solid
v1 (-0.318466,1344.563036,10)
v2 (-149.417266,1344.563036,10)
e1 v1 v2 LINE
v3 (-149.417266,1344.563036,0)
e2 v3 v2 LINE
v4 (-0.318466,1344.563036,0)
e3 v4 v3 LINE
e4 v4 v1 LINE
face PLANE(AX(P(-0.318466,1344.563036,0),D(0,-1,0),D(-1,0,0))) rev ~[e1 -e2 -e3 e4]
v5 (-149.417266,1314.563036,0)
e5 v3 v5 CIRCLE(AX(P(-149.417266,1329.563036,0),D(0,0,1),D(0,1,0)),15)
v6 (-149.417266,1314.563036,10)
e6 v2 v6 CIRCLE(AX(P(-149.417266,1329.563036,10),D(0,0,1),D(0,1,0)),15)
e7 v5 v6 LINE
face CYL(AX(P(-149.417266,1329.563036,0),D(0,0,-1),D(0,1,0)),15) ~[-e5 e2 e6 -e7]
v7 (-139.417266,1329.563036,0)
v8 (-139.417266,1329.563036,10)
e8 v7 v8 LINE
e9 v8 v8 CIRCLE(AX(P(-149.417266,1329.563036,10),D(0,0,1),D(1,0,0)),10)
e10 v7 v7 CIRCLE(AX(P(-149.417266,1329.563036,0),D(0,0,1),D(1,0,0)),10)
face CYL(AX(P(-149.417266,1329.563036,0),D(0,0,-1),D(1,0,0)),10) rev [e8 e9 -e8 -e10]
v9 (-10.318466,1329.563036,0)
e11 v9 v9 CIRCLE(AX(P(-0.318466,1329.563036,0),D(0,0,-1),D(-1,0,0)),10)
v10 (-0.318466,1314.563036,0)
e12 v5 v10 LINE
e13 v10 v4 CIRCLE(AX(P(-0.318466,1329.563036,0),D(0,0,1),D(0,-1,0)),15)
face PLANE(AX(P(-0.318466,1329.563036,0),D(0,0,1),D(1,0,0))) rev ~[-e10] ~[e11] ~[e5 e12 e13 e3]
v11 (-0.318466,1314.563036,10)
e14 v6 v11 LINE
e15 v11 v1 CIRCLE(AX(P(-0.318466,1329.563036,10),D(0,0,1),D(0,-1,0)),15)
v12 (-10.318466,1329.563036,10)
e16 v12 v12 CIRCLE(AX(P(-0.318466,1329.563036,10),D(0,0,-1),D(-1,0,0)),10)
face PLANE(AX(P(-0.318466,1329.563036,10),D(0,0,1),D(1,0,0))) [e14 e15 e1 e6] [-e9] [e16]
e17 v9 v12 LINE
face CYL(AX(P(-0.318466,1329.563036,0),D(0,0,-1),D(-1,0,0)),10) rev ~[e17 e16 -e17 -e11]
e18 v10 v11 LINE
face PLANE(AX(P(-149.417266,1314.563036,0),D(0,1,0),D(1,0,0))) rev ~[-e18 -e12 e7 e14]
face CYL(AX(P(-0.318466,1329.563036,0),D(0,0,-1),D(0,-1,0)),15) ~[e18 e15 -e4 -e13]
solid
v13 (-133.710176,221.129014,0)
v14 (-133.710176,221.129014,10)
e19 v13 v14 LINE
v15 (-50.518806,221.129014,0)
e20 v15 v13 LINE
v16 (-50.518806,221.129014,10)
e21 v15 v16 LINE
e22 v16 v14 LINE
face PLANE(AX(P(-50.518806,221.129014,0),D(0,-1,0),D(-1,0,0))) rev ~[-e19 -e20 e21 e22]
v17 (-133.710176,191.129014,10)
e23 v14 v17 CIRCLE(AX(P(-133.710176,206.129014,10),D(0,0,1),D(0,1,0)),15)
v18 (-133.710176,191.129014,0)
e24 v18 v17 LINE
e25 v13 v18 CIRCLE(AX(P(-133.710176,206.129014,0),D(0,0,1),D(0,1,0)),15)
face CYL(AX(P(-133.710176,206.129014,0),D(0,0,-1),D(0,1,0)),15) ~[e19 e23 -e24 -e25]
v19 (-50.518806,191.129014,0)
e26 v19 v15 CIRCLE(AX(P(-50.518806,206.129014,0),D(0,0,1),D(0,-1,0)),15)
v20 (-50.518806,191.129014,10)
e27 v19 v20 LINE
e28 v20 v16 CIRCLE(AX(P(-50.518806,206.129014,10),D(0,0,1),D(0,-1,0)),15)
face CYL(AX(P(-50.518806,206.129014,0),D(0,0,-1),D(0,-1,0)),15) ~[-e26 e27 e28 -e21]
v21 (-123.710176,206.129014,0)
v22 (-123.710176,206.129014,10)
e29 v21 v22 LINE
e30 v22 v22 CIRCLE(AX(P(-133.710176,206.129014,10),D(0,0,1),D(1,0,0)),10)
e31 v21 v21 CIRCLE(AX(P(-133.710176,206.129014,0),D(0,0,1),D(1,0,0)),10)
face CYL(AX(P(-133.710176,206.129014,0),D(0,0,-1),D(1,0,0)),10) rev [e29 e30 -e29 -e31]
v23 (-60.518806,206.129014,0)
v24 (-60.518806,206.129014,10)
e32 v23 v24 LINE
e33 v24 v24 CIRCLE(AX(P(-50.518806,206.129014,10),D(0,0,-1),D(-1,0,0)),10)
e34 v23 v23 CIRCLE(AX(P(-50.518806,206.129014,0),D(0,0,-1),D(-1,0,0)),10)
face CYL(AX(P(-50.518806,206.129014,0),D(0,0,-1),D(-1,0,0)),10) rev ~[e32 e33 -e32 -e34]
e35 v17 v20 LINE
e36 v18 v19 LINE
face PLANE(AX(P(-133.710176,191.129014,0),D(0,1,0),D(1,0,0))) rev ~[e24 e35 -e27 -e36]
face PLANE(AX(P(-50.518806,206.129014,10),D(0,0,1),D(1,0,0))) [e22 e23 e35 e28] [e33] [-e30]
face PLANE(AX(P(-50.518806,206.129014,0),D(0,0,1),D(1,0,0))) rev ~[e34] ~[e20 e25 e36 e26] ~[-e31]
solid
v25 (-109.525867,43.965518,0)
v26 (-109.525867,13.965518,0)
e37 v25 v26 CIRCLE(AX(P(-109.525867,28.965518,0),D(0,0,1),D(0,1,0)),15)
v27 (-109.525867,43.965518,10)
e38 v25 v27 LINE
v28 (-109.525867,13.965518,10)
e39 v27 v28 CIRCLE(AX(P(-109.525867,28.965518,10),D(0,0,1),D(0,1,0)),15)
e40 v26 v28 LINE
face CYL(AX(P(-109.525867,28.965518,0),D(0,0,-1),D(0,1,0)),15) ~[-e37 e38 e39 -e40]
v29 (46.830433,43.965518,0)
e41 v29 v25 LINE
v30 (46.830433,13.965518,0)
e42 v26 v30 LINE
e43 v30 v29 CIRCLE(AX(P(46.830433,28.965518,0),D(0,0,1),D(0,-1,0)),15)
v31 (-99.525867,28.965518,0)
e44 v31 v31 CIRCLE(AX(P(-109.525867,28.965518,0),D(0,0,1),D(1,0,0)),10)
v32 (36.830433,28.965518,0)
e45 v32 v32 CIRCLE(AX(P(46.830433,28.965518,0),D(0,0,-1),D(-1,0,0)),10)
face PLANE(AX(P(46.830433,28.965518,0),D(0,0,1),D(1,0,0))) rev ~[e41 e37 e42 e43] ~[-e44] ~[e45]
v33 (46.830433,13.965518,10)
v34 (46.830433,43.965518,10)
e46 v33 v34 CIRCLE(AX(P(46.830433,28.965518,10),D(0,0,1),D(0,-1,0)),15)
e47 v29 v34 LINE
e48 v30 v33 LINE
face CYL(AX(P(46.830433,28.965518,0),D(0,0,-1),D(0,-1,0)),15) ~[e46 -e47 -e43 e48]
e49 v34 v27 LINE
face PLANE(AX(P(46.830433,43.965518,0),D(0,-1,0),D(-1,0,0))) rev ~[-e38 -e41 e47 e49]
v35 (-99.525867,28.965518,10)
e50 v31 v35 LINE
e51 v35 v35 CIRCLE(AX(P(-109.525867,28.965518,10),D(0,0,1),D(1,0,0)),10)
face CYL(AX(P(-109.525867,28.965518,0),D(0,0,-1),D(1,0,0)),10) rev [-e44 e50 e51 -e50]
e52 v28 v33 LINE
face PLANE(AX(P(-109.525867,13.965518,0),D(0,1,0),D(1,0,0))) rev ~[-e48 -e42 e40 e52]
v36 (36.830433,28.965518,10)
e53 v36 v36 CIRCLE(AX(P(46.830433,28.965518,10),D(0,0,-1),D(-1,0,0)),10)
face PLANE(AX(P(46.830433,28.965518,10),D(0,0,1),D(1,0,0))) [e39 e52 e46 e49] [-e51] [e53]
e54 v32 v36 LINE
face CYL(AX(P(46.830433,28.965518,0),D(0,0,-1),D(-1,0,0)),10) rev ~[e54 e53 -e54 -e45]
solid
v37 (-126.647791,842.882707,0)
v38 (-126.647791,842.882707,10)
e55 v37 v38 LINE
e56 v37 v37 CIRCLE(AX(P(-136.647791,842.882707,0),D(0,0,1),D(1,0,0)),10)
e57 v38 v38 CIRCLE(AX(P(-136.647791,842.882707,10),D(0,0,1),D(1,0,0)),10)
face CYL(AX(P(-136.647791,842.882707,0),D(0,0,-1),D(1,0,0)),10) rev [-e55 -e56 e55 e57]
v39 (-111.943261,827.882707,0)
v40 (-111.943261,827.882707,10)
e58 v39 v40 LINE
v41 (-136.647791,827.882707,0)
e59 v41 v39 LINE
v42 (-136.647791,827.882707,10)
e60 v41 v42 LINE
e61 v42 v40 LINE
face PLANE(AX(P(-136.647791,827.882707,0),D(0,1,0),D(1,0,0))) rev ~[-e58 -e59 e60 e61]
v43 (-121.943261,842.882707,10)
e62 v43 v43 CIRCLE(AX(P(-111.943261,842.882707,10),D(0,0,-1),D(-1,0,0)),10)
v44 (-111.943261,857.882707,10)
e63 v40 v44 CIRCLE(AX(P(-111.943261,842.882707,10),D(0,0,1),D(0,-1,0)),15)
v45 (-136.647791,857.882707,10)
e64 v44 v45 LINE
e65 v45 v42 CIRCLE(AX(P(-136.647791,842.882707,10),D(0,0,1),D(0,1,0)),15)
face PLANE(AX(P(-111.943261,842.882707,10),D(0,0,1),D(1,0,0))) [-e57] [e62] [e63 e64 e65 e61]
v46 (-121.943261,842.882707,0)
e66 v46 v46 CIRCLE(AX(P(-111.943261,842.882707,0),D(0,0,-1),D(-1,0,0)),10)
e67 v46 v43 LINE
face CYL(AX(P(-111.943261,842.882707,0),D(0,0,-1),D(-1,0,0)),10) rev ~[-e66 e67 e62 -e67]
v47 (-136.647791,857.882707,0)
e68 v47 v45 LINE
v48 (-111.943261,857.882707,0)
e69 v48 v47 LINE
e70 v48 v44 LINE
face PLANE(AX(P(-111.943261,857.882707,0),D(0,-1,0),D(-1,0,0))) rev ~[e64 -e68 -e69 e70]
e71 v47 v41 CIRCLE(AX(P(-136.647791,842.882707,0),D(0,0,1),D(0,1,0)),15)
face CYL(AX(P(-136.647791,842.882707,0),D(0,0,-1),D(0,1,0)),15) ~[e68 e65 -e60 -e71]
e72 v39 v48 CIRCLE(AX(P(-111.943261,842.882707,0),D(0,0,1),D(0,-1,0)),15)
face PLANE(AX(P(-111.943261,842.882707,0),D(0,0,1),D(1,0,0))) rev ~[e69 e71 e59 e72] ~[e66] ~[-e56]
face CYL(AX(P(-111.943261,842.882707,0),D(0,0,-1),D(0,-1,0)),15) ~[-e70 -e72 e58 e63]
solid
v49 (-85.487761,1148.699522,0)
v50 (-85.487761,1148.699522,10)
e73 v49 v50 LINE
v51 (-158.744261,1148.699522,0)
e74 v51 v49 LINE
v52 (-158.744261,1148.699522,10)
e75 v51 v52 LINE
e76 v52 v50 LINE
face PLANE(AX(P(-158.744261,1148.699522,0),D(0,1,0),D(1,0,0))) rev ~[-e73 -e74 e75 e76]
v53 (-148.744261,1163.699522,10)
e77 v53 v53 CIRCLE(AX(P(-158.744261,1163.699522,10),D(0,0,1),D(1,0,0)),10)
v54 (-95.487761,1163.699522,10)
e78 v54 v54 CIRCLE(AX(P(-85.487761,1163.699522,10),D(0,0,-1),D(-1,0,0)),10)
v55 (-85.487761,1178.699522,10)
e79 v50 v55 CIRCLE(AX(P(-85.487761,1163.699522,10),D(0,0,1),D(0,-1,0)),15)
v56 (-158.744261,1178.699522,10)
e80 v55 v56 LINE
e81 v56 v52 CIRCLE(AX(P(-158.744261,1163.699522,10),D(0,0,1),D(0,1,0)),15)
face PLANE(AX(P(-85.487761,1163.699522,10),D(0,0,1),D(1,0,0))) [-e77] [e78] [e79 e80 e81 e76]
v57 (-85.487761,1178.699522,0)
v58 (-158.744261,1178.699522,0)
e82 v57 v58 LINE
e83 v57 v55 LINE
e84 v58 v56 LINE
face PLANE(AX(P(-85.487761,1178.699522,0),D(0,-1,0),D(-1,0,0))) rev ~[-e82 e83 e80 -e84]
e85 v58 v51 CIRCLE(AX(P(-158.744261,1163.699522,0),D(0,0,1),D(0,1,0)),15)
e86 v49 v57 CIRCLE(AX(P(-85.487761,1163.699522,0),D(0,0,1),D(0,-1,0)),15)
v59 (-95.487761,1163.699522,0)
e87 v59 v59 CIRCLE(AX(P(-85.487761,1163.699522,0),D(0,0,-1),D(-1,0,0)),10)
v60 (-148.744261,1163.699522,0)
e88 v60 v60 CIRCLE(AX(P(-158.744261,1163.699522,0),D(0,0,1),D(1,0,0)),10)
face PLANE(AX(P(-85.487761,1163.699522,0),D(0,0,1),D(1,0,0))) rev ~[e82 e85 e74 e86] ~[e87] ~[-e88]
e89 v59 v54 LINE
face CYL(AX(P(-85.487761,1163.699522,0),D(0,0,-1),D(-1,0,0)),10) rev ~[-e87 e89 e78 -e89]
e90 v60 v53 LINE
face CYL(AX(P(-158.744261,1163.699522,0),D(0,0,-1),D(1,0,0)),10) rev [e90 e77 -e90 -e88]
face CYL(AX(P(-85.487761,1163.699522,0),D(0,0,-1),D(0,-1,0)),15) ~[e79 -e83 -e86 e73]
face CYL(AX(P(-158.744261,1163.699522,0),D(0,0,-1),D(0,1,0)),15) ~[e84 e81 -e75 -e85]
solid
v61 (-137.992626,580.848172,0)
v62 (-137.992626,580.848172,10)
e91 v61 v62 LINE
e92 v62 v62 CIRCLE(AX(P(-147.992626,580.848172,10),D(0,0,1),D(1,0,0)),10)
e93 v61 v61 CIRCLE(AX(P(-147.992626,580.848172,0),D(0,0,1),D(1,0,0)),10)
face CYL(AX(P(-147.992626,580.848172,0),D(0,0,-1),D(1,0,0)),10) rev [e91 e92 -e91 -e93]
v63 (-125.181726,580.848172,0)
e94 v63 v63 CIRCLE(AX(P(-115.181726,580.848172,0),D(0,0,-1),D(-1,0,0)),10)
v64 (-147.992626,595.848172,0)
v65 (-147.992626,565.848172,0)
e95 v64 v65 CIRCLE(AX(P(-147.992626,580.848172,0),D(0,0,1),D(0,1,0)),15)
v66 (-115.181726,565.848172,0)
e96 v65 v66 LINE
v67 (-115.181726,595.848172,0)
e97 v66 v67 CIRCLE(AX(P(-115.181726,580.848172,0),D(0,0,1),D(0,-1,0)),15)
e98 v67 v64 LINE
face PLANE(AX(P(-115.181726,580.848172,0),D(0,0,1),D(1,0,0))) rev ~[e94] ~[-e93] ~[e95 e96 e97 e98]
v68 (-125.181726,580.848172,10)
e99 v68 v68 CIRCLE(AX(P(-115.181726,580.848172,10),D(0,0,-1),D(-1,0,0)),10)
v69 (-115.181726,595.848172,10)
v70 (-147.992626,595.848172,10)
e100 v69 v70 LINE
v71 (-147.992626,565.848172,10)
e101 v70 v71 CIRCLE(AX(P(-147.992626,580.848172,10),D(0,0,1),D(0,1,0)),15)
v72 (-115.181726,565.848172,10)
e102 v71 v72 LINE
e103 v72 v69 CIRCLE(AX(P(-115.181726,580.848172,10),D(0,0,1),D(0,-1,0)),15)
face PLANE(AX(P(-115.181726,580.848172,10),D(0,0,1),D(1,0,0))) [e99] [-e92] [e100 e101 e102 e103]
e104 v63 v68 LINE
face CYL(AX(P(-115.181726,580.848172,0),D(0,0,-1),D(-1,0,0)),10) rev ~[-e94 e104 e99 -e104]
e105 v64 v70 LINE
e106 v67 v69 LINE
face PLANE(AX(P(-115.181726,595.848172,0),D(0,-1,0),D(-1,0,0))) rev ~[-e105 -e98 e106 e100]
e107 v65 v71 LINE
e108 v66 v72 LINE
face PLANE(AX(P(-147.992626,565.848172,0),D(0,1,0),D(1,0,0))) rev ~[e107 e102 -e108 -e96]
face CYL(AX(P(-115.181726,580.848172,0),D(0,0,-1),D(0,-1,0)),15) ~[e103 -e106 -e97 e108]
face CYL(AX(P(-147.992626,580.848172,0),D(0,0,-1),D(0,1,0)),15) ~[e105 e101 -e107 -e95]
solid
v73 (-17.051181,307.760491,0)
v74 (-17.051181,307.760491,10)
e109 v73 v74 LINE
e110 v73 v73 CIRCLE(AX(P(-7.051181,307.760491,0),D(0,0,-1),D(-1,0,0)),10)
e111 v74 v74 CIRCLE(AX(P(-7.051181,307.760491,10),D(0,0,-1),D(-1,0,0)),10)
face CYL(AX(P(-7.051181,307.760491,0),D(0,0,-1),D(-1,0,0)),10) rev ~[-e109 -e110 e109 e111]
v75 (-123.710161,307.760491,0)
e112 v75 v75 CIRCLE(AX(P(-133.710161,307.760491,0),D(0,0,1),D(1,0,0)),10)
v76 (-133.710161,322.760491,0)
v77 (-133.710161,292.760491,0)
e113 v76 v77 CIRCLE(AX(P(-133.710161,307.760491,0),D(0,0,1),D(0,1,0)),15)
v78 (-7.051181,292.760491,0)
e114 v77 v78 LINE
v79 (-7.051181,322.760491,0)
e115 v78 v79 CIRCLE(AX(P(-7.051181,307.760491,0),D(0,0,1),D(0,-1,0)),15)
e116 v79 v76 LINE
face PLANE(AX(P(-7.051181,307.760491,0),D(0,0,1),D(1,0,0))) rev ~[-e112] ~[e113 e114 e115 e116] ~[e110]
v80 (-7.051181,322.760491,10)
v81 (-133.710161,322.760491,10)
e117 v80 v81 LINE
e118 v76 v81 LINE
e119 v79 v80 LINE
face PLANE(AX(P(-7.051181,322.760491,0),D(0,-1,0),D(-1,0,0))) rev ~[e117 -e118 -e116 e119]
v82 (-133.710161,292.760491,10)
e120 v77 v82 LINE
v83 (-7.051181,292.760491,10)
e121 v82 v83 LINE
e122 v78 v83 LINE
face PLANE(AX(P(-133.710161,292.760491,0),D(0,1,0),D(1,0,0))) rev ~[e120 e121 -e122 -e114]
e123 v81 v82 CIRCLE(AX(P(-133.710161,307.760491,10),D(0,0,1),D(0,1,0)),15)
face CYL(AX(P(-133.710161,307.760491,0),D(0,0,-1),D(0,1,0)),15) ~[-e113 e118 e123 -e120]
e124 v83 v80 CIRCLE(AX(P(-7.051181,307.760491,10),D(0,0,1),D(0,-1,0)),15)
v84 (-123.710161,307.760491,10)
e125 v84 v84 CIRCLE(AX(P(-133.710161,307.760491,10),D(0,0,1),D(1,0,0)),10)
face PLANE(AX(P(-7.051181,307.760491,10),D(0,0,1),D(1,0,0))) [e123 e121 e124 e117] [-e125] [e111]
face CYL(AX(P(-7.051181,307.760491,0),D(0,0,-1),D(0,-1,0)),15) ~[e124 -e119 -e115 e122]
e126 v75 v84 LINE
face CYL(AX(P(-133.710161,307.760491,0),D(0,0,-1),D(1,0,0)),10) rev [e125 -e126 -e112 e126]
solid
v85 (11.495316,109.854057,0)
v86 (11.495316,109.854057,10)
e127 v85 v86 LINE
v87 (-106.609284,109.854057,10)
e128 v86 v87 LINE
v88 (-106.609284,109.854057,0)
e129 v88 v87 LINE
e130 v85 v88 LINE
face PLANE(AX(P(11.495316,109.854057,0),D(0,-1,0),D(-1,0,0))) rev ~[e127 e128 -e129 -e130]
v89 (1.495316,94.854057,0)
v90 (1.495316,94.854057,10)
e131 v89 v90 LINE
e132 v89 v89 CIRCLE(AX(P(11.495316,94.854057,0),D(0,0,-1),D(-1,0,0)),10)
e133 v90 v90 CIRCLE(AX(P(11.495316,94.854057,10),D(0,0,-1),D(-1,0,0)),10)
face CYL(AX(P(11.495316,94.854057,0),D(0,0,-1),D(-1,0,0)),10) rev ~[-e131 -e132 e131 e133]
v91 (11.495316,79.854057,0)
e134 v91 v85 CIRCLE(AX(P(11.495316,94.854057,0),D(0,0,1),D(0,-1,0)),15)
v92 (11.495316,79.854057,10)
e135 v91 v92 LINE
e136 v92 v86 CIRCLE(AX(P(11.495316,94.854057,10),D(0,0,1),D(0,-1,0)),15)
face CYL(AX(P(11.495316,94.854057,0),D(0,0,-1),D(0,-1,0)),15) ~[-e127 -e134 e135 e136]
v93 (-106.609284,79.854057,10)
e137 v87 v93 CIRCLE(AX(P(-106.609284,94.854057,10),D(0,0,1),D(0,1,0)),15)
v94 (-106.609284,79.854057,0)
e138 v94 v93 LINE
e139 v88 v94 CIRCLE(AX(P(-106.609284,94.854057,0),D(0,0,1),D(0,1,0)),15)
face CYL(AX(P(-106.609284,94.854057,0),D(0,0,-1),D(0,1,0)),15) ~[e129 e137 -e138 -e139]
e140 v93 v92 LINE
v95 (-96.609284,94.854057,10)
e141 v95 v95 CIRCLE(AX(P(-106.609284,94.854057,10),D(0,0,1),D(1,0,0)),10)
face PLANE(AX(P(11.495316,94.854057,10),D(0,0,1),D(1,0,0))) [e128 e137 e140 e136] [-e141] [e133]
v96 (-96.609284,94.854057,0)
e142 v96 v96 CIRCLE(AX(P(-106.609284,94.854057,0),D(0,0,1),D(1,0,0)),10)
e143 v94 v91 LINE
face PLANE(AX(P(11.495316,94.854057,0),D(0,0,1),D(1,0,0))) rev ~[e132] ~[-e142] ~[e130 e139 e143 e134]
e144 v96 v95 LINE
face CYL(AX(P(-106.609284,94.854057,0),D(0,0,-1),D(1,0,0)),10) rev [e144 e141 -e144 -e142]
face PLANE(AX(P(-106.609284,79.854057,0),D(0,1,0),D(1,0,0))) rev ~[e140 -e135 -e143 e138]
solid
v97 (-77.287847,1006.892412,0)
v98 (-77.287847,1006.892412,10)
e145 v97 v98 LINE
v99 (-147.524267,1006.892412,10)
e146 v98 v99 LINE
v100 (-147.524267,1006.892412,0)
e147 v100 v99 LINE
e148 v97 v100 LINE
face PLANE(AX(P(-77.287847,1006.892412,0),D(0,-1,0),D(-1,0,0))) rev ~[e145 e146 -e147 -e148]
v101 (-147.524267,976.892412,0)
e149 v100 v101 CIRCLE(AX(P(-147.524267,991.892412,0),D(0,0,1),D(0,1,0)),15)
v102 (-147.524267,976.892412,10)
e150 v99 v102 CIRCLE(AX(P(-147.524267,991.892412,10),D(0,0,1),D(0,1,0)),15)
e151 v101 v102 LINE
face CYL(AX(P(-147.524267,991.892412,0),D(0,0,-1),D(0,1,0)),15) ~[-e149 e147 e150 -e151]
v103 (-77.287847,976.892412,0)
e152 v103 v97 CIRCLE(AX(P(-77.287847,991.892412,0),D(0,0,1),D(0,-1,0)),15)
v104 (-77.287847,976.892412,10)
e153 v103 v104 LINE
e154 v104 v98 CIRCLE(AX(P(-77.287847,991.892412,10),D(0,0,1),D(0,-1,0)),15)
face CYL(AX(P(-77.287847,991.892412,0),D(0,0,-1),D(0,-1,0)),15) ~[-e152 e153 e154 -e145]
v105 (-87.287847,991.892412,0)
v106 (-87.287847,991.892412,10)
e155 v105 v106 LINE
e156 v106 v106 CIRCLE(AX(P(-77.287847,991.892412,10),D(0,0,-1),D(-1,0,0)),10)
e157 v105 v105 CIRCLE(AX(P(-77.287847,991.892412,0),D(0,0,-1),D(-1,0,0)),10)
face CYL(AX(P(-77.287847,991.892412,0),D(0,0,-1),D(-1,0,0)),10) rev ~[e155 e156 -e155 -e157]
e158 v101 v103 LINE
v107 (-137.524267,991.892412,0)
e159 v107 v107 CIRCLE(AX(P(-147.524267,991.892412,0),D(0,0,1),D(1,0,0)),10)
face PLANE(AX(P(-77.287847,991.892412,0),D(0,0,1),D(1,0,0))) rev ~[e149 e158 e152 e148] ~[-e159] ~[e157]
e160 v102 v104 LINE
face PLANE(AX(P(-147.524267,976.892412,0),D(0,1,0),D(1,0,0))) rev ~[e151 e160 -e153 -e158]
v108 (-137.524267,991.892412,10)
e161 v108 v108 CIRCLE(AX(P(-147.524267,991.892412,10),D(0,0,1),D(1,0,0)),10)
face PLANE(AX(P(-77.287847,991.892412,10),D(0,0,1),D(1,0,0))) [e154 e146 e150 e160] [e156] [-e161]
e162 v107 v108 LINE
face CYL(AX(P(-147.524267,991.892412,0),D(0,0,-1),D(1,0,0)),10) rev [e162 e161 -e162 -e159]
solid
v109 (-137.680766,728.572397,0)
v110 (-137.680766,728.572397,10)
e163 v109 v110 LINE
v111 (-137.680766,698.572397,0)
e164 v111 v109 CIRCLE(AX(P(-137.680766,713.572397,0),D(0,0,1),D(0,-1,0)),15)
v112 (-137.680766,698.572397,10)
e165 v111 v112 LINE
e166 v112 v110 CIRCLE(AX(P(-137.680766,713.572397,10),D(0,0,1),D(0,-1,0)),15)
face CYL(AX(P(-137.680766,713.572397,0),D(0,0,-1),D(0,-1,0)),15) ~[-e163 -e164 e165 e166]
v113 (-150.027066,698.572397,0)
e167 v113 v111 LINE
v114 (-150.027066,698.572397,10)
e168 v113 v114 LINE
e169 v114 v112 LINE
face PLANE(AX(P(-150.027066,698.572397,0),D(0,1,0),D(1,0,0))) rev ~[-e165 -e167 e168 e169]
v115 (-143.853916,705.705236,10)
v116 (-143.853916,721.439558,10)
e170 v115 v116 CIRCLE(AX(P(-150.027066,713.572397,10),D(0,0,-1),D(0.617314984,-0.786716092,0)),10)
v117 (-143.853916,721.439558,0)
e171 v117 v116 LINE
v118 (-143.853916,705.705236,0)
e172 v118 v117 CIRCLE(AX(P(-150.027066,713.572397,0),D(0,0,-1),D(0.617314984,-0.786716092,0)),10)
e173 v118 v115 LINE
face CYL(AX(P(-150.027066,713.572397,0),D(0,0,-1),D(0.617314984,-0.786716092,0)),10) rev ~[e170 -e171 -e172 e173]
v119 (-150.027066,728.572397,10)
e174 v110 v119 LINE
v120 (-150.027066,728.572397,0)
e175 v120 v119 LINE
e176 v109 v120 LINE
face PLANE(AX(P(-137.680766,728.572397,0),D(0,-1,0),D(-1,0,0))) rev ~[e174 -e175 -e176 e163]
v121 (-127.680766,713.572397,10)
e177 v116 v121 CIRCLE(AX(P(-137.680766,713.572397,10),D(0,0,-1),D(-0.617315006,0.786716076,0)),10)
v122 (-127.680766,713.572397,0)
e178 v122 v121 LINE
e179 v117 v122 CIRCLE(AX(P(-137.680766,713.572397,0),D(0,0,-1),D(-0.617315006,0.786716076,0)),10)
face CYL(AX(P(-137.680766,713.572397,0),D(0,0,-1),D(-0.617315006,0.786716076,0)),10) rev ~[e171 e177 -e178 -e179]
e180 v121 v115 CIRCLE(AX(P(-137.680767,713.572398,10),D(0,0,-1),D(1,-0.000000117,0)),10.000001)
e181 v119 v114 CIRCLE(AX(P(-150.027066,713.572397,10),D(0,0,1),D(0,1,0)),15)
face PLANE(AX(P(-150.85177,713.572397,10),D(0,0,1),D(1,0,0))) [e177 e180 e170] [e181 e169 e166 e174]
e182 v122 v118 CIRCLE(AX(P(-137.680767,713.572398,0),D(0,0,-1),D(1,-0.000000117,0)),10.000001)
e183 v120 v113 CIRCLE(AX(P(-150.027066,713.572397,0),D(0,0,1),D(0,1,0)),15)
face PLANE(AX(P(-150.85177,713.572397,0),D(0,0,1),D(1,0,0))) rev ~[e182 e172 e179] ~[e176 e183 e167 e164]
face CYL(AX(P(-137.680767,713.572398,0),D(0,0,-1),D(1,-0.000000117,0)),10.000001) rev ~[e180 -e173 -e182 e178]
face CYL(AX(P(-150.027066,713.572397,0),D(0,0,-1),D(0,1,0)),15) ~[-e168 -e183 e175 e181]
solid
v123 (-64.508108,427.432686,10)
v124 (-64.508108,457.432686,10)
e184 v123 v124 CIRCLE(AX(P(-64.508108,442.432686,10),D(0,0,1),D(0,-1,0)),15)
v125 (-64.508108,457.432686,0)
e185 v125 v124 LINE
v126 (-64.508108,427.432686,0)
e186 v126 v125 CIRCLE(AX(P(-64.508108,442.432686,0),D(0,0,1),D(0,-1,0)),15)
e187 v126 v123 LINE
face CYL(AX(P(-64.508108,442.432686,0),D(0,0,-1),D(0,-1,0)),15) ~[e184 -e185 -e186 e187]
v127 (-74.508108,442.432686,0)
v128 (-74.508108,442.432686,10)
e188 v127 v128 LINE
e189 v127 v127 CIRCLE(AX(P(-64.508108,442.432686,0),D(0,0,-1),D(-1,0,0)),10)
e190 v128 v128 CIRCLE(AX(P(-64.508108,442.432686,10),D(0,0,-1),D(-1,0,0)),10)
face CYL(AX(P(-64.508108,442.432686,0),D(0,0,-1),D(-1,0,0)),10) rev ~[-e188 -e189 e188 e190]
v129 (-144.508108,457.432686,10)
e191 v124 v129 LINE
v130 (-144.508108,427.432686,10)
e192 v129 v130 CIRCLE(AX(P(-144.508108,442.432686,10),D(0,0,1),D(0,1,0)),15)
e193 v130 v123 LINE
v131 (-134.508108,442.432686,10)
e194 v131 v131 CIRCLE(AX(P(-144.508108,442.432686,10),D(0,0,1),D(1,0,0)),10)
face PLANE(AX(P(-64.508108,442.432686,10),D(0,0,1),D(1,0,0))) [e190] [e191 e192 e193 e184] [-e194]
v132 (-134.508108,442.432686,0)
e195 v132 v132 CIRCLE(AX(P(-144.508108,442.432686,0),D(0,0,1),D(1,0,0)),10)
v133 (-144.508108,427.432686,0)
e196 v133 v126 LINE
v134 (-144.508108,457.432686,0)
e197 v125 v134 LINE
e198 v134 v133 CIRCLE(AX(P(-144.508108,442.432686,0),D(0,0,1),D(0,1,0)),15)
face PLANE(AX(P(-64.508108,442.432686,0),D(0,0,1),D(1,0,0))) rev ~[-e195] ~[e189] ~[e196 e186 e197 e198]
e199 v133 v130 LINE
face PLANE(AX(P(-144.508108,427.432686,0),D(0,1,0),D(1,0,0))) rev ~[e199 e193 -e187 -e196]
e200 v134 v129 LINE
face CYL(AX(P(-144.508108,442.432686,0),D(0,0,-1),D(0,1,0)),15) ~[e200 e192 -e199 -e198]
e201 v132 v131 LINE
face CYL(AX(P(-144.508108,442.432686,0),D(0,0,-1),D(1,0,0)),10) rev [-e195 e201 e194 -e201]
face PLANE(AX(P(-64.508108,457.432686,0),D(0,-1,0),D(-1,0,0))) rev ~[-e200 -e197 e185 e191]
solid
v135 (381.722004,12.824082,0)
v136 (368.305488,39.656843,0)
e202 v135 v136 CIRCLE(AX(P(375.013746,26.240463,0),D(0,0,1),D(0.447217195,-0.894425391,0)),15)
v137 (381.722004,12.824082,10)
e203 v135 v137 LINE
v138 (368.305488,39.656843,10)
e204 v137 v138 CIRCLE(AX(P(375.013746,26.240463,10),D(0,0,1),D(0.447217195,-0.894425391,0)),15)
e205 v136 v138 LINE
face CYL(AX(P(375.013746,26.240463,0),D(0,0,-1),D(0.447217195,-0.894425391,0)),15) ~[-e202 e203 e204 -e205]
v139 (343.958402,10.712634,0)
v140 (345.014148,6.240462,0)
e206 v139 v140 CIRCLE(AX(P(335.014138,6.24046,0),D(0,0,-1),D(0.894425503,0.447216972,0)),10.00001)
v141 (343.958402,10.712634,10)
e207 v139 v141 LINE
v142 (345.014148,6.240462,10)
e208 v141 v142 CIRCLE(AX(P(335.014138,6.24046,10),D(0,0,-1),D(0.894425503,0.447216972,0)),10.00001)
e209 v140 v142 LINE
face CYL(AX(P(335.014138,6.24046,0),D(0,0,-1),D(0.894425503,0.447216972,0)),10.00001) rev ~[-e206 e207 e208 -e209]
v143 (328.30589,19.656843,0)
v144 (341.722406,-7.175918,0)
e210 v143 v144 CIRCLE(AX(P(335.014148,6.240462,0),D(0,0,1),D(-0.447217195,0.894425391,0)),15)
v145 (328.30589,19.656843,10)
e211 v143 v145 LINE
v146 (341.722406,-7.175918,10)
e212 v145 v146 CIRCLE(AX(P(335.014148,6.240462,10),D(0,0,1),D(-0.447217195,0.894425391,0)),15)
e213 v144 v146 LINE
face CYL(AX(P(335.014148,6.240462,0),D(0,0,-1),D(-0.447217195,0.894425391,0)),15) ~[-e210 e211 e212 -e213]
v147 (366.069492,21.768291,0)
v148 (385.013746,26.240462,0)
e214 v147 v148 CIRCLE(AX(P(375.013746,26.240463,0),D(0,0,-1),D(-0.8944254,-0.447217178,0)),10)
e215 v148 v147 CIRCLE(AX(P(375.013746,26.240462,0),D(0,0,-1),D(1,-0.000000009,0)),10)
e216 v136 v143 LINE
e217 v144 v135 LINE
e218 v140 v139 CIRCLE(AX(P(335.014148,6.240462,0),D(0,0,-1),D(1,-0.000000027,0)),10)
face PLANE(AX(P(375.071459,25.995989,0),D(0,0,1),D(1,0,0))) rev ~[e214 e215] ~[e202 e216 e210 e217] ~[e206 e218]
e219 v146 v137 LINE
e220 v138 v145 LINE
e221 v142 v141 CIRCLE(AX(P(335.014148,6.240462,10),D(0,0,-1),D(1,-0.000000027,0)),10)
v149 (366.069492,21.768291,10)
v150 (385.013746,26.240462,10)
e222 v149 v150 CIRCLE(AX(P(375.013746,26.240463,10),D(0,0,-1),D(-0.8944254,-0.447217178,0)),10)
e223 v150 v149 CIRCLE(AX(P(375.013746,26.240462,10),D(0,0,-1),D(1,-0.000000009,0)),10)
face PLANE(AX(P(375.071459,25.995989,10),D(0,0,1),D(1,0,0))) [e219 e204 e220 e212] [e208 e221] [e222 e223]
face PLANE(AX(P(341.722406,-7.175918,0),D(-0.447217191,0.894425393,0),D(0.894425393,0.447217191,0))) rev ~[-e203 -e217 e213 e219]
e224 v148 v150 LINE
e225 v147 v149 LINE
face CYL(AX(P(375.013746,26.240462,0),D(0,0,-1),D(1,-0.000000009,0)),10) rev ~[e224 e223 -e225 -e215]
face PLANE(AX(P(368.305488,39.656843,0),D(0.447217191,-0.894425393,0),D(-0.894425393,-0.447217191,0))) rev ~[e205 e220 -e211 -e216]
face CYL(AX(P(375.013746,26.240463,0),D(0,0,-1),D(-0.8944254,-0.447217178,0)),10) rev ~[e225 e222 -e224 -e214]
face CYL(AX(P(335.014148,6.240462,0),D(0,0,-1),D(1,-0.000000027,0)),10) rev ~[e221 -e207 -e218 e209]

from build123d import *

# Parameters (mm, degrees)
F0_R     = 10
F1_DEPTH = 10


with BuildPart() as f1:
    # F0 (on Top) → F1 (new body)
    with BuildSketch(Plane.XY):
        with BuildLine():
            ThreePointArc((56.830433, 28.965518), (46.830433, 38.965518), (36.830433, 28.965518))
            ThreePointArc((36.830433, 28.965518), (46.830433, 18.965518), (56.830433, 28.965518))
        make_face()
        with Locations((-109.525867, 28.965518)):
            Circle(F0_R)
        with BuildLine():
            ThreePointArc((-109.525867, 43.965518), (-124.525867, 28.965518), (-109.525867, 13.965518))
            Line((-109.525867, 13.965518), (46.830433, 13.965518))
            ThreePointArc((46.830433, 13.965518), (61.830433, 28.965518), (46.830433, 43.965518))
            Line((46.830433, 43.965518), (-109.525867, 43.965518))
        make_face()
        with Locations((-109.525867, 28.965518)):
            Circle(F0_R, mode=Mode.SUBTRACT)
        with BuildLine():
            ThreePointArc((56.830433, 28.965518), (46.830433, 18.965518), (36.830433, 28.965518))
            ThreePointArc((36.830433, 28.965518), (46.830433, 38.965518), (56.830433, 28.965518))
        make_face(mode=Mode.SUBTRACT)
        with BuildLine():
            ThreePointArc((21.495316, 94.854057), (11.495316, 104.854057), (1.495316, 94.854057))
            ThreePointArc((1.495316, 94.854057), (11.495316, 84.854057), (21.495316, 94.854057))
        make_face()
        with Locations((-106.609284, 94.854057)):
            Circle(F0_R)
        with BuildLine():
            ThreePointArc((-106.609284, 109.854057), (-121.609284, 94.854057), (-106.609284, 79.854057))
            Line((-106.609284, 79.854057), (11.495316, 79.854057))
            ThreePointArc((11.495316, 79.854057), (26.495316, 94.854057), (11.495316, 109.854057))
            Line((11.495316, 109.854057), (-106.609284, 109.854057))
        make_face()
        with Locations((-106.609284, 94.854057)):
            Circle(F0_R, mode=Mode.SUBTRACT)
        with BuildLine():
            ThreePointArc((21.495316, 94.854057), (11.495316, 84.854057), (1.495316, 94.854057))
            ThreePointArc((1.495316, 94.854057), (11.495316, 104.854057), (21.495316, 94.854057))
        make_face(mode=Mode.SUBTRACT)
        with BuildLine():
            ThreePointArc((-40.518806, 206.129014), (-50.518806, 216.129014), (-60.518806, 206.129014))
            ThreePointArc((-60.518806, 206.129014), (-50.518806, 196.129014), (-40.518806, 206.129014))
        make_face()
        with Locations((-133.710176, 206.129014)):
            Circle(F0_R)
        with BuildLine():
            ThreePointArc((-133.710176, 221.129014), (-148.710176, 206.129014), (-133.710176, 191.129014))
            Line((-133.710176, 191.129014), (-50.518806, 191.129014))
            ThreePointArc((-50.518806, 191.129014), (-35.518806, 206.129014), (-50.518806, 221.129014))
            Line((-50.518806, 221.129014), (-133.710176, 221.129014))
        make_face()
        with Locations((-133.710176, 206.129014)):
            Circle(F0_R, mode=Mode.SUBTRACT)
        with BuildLine():
            ThreePointArc((-40.518806, 206.129014), (-50.518806, 196.129014), (-60.518806, 206.129014))
            ThreePointArc((-60.518806, 206.129014), (-50.518806, 216.129014), (-40.518806, 206.129014))
        make_face(mode=Mode.SUBTRACT)
        with BuildLine():
            ThreePointArc((2.948819, 307.760491), (-7.051181, 317.760491), (-17.051181, 307.760491))
            ThreePointArc((-17.051181, 307.760491), (-7.051181, 297.760491), (2.948819, 307.760491))
        make_face()
        with Locations((-133.710161, 307.760491)):
            Circle(F0_R)
        with BuildLine():
            ThreePointArc((-133.710161, 322.760491), (-148.710161, 307.760491), (-133.710161, 292.760491))
            Line((-133.710161, 292.760491), (-7.051181, 292.760491))
            ThreePointArc((-7.051181, 292.760491), (7.948819, 307.760491), (-7.051181, 322.760491))
            Line((-7.051181, 322.760491), (-133.710161, 322.760491))
        make_face()
        with Locations((-133.710161, 307.760491)):
            Circle(F0_R, mode=Mode.SUBTRACT)
        with BuildLine():
            ThreePointArc((2.948819, 307.760491), (-7.051181, 297.760491), (-17.051181, 307.760491))
            ThreePointArc((-17.051181, 307.760491), (-7.051181, 317.760491), (2.948819, 307.760491))
        make_face(mode=Mode.SUBTRACT)
        with BuildLine():
            ThreePointArc((-54.508108, 442.432686), (-64.508108, 452.432686), (-74.508108, 442.432686))
            ThreePointArc((-74.508108, 442.432686), (-64.508108, 432.432686), (-54.508108, 442.432686))
        make_face()
        with Locations((-144.508108, 442.432686)):
            Circle(F0_R)
        with BuildLine():
            ThreePointArc((-144.508108, 457.432686), (-159.508108, 442.432686), (-144.508108, 427.432686))
            Line((-144.508108, 427.432686), (-64.508108, 427.432686))
            ThreePointArc((-64.508108, 427.432686), (-49.508108, 442.432686), (-64.508108, 457.432686))
            Line((-64.508108, 457.432686), (-144.508108, 457.432686))
        make_face()
        with Locations((-144.508108, 442.432686)):
            Circle(F0_R, mode=Mode.SUBTRACT)
        with BuildLine():
            ThreePointArc((-54.508108, 442.432686), (-64.508108, 432.432686), (-74.508108, 442.432686))
            ThreePointArc((-74.508108, 442.432686), (-64.508108, 452.432686), (-54.508108, 442.432686))
        make_face(mode=Mode.SUBTRACT)
        with BuildLine():
            ThreePointArc((-105.181726, 580.848172), (-115.181726, 590.848172), (-125.181726, 580.848172))
            ThreePointArc((-125.181726, 580.848172), (-115.181726, 570.848172), (-105.181726, 580.848172))
        make_face()
        with Locations((-147.992626, 580.848172)):
            Circle(F0_R)
        with BuildLine():
            ThreePointArc((-147.992626, 595.848172), (-162.992626, 580.848172), (-147.992626, 565.848172))
            Line((-147.992626, 565.848172), (-115.181726, 565.848172))
            ThreePointArc((-115.181726, 565.848172), (-100.181726, 580.848172), (-115.181726, 595.848172))
            Line((-115.181726, 595.848172), (-147.992626, 595.848172))
        make_face()
        with Locations((-147.992626, 580.848172)):
            Circle(F0_R, mode=Mode.SUBTRACT)
        with BuildLine():
            ThreePointArc((-105.181726, 580.848172), (-115.181726, 570.848172), (-125.181726, 580.848172))
            ThreePointArc((-125.181726, 580.848172), (-115.181726, 590.848172), (-105.181726, 580.848172))
        make_face(mode=Mode.SUBTRACT)
        with BuildLine():
            ThreePointArc((-143.853916, 705.705236), (-146.673305, 709.198126), (-147.680766, 713.572397))
            ThreePointArc((-147.680766, 713.572397), (-146.673305, 717.946669), (-143.853916, 721.439558))
            ThreePointArc((-143.853916, 721.439558), (-160.027066, 713.572397), (-143.853916, 705.705236))
        make_face()
        with BuildLine():
            ThreePointArc((-143.853916, 721.439558), (-141.034528, 717.946669), (-140.027066, 713.572397))
            ThreePointArc((-140.027066, 713.572397), (-141.034528, 709.198126), (-143.853916, 705.705236))
            ThreePointArc((-143.853916, 705.705236), (-133.306495, 704.579859), (-127.680766, 713.572397))
            ThreePointArc((-127.680766, 713.572397), (-133.306495, 722.564936), (-143.853916, 721.439558))
        make_face()
        with BuildLine():
            ThreePointArc((-150.027066, 728.572397), (-165.027066, 713.572397), (-150.027066, 698.572397))
            Line((-150.027066, 698.572397), (-137.680766, 698.572397))
            ThreePointArc((-137.680766, 698.572397), (-122.680766, 713.572397), (-137.680766, 728.572397))
            Line((-137.680766, 728.572397), (-150.027066, 728.572397))
        make_face()
        with BuildLine():
            ThreePointArc((-143.853916, 705.705236), (-160.027066, 713.572397), (-143.853916, 721.439558))
            ThreePointArc((-143.853916, 721.439558), (-133.306495, 722.564936), (-127.680766, 713.572397))
            ThreePointArc((-127.680766, 713.572397), (-133.306495, 704.579859), (-143.853916, 705.705236))
        make_face(mode=Mode.SUBTRACT)
        with BuildLine():
            ThreePointArc((-101.943261, 842.882707), (-111.943261, 852.882707), (-121.943261, 842.882707))
            ThreePointArc((-121.943261, 842.882707), (-111.943261, 832.882707), (-101.943261, 842.882707))
        make_face()
        with Locations((-136.647791, 842.882707)):
            Circle(F0_R)
        with BuildLine():
            ThreePointArc((-136.647791, 857.882707), (-151.647791, 842.882707), (-136.647791, 827.882707))
            Line((-136.647791, 827.882707), (-111.943261, 827.882707))
            ThreePointArc((-111.943261, 827.882707), (-96.943261, 842.882707), (-111.943261, 857.882707))
            Line((-111.943261, 857.882707), (-136.647791, 857.882707))
        make_face()
        with Locations((-136.647791, 842.882707)):
            Circle(F0_R, mode=Mode.SUBTRACT)
        with BuildLine():
            ThreePointArc((-101.943261, 842.882707), (-111.943261, 832.882707), (-121.943261, 842.882707))
            ThreePointArc((-121.943261, 842.882707), (-111.943261, 852.882707), (-101.943261, 842.882707))
        make_face(mode=Mode.SUBTRACT)
        with BuildLine():
            ThreePointArc((-67.287847, 991.892412), (-77.287847, 1001.892412), (-87.287847, 991.892412))
            ThreePointArc((-87.287847, 991.892412), (-77.287847, 981.892412), (-67.287847, 991.892412))
        make_face()
        with Locations((-147.524267, 991.892412)):
            Circle(F0_R)
        with BuildLine():
            ThreePointArc((-147.524267, 1006.892412), (-162.524267, 991.892412), (-147.524267, 976.892412))
            Line((-147.524267, 976.892412), (-77.287847, 976.892412))
            ThreePointArc((-77.287847, 976.892412), (-62.287847, 991.892412), (-77.287847, 1006.892412))
            Line((-77.287847, 1006.892412), (-147.524267, 1006.892412))
        make_face()
        with Locations((-147.524267, 991.892412)):
            Circle(F0_R, mode=Mode.SUBTRACT)
        with BuildLine():
            ThreePointArc((-67.287847, 991.892412), (-77.287847, 981.892412), (-87.287847, 991.892412))
            ThreePointArc((-87.287847, 991.892412), (-77.287847, 1001.892412), (-67.287847, 991.892412))
        make_face(mode=Mode.SUBTRACT)
        with BuildLine():
            ThreePointArc((-75.487761, 1163.699522), (-85.487761, 1173.699522), (-95.487761, 1163.699522))
            ThreePointArc((-95.487761, 1163.699522), (-85.487761, 1153.699522), (-75.487761, 1163.699522))
        make_face()
        with Locations((-158.744261, 1163.699522)):
            Circle(F0_R)
        with BuildLine():
            ThreePointArc((-158.744261, 1178.699522), (-173.744261, 1163.699522), (-158.744261, 1148.699522))
            Line((-158.744261, 1148.699522), (-85.487761, 1148.699522))
            ThreePointArc((-85.487761, 1148.699522), (-70.487761, 1163.699522), (-85.487761, 1178.699522))
            Line((-85.487761, 1178.699522), (-158.744261, 1178.699522))
        make_face()
        with Locations((-158.744261, 1163.699522)):
            Circle(F0_R, mode=Mode.SUBTRACT)
        with BuildLine():
            ThreePointArc((-75.487761, 1163.699522), (-85.487761, 1153.699522), (-95.487761, 1163.699522))
            ThreePointArc((-95.487761, 1163.699522), (-85.487761, 1173.699522), (-75.487761, 1163.699522))
        make_face(mode=Mode.SUBTRACT)
        with BuildLine():
            ThreePointArc((9.681534, 1329.563036), (-0.318466, 1339.563036), (-10.318466, 1329.563036))
            ThreePointArc((-10.318466, 1329.563036), (-0.318466, 1319.563036), (9.681534, 1329.563036))
        make_face()
        with Locations((-149.417266, 1329.563036)):
            Circle(F0_R)
        with BuildLine():
            ThreePointArc((-149.417266, 1344.563036), (-164.417266, 1329.563036), (-149.417266, 1314.563036))
            Line((-149.417266, 1314.563036), (-0.318466, 1314.563036))
            ThreePointArc((-0.318466, 1314.563036), (14.681534, 1329.563036), (-0.318466, 1344.563036))
            Line((-0.318466, 1344.563036), (-149.417266, 1344.563036))
        make_face()
        with Locations((-149.417266, 1329.563036)):
            Circle(F0_R, mode=Mode.SUBTRACT)
        with BuildLine():
            ThreePointArc((9.681534, 1329.563036), (-0.318466, 1319.563036), (-10.318466, 1329.563036))
            ThreePointArc((-10.318466, 1329.563036), (-0.318466, 1339.563036), (9.681534, 1329.563036))
        make_face(mode=Mode.SUBTRACT)
        with BuildLine():
            ThreePointArc((385.013746, 26.240462), (372.716197, 35.972948), (366.069492, 21.768291))
            ThreePointArc((366.069492, 21.768291), (377.311295, 16.507977), (385.013746, 26.240462))
        make_face()
        with BuildLine():
            ThreePointArc((345.014148, 6.240462), (344.746633, 8.538011), (343.958402, 10.712634))
            ThreePointArc((343.958402, 10.712634), (325.281663, 3.942914), (345.014148, 6.240462))
        make_face()
        with BuildLine():
            ThreePointArc((328.30589, 19.656843), (321.597767, -0.467795), (341.722406, -7.175918))
            Line((341.722406, -7.175918), (381.722004, 12.824082))
            ThreePointArc((381.722004, 12.824082), (388.430127, 32.94872), (368.305488, 39.656843))
            Line((368.305488, 39.656843), (328.30589, 19.656843))
        make_face()
        with BuildLine():
            ThreePointArc((345.014148, 6.240462), (325.281663, 3.942914), (343.958402, 10.712634))
            ThreePointArc((343.958402, 10.712634), (344.746633, 8.538011), (345.014148, 6.240462))
        make_face(mode=Mode.SUBTRACT)
        with BuildLine():
            ThreePointArc((385.013746, 26.240462), (377.311295, 16.507977), (366.069492, 21.768291))
            ThreePointArc((366.069492, 21.768291), (372.716197, 35.972948), (385.013746, 26.240462))
        make_face(mode=Mode.SUBTRACT)
    extrude(amount=F1_DEPTH)


solid = f1.part
